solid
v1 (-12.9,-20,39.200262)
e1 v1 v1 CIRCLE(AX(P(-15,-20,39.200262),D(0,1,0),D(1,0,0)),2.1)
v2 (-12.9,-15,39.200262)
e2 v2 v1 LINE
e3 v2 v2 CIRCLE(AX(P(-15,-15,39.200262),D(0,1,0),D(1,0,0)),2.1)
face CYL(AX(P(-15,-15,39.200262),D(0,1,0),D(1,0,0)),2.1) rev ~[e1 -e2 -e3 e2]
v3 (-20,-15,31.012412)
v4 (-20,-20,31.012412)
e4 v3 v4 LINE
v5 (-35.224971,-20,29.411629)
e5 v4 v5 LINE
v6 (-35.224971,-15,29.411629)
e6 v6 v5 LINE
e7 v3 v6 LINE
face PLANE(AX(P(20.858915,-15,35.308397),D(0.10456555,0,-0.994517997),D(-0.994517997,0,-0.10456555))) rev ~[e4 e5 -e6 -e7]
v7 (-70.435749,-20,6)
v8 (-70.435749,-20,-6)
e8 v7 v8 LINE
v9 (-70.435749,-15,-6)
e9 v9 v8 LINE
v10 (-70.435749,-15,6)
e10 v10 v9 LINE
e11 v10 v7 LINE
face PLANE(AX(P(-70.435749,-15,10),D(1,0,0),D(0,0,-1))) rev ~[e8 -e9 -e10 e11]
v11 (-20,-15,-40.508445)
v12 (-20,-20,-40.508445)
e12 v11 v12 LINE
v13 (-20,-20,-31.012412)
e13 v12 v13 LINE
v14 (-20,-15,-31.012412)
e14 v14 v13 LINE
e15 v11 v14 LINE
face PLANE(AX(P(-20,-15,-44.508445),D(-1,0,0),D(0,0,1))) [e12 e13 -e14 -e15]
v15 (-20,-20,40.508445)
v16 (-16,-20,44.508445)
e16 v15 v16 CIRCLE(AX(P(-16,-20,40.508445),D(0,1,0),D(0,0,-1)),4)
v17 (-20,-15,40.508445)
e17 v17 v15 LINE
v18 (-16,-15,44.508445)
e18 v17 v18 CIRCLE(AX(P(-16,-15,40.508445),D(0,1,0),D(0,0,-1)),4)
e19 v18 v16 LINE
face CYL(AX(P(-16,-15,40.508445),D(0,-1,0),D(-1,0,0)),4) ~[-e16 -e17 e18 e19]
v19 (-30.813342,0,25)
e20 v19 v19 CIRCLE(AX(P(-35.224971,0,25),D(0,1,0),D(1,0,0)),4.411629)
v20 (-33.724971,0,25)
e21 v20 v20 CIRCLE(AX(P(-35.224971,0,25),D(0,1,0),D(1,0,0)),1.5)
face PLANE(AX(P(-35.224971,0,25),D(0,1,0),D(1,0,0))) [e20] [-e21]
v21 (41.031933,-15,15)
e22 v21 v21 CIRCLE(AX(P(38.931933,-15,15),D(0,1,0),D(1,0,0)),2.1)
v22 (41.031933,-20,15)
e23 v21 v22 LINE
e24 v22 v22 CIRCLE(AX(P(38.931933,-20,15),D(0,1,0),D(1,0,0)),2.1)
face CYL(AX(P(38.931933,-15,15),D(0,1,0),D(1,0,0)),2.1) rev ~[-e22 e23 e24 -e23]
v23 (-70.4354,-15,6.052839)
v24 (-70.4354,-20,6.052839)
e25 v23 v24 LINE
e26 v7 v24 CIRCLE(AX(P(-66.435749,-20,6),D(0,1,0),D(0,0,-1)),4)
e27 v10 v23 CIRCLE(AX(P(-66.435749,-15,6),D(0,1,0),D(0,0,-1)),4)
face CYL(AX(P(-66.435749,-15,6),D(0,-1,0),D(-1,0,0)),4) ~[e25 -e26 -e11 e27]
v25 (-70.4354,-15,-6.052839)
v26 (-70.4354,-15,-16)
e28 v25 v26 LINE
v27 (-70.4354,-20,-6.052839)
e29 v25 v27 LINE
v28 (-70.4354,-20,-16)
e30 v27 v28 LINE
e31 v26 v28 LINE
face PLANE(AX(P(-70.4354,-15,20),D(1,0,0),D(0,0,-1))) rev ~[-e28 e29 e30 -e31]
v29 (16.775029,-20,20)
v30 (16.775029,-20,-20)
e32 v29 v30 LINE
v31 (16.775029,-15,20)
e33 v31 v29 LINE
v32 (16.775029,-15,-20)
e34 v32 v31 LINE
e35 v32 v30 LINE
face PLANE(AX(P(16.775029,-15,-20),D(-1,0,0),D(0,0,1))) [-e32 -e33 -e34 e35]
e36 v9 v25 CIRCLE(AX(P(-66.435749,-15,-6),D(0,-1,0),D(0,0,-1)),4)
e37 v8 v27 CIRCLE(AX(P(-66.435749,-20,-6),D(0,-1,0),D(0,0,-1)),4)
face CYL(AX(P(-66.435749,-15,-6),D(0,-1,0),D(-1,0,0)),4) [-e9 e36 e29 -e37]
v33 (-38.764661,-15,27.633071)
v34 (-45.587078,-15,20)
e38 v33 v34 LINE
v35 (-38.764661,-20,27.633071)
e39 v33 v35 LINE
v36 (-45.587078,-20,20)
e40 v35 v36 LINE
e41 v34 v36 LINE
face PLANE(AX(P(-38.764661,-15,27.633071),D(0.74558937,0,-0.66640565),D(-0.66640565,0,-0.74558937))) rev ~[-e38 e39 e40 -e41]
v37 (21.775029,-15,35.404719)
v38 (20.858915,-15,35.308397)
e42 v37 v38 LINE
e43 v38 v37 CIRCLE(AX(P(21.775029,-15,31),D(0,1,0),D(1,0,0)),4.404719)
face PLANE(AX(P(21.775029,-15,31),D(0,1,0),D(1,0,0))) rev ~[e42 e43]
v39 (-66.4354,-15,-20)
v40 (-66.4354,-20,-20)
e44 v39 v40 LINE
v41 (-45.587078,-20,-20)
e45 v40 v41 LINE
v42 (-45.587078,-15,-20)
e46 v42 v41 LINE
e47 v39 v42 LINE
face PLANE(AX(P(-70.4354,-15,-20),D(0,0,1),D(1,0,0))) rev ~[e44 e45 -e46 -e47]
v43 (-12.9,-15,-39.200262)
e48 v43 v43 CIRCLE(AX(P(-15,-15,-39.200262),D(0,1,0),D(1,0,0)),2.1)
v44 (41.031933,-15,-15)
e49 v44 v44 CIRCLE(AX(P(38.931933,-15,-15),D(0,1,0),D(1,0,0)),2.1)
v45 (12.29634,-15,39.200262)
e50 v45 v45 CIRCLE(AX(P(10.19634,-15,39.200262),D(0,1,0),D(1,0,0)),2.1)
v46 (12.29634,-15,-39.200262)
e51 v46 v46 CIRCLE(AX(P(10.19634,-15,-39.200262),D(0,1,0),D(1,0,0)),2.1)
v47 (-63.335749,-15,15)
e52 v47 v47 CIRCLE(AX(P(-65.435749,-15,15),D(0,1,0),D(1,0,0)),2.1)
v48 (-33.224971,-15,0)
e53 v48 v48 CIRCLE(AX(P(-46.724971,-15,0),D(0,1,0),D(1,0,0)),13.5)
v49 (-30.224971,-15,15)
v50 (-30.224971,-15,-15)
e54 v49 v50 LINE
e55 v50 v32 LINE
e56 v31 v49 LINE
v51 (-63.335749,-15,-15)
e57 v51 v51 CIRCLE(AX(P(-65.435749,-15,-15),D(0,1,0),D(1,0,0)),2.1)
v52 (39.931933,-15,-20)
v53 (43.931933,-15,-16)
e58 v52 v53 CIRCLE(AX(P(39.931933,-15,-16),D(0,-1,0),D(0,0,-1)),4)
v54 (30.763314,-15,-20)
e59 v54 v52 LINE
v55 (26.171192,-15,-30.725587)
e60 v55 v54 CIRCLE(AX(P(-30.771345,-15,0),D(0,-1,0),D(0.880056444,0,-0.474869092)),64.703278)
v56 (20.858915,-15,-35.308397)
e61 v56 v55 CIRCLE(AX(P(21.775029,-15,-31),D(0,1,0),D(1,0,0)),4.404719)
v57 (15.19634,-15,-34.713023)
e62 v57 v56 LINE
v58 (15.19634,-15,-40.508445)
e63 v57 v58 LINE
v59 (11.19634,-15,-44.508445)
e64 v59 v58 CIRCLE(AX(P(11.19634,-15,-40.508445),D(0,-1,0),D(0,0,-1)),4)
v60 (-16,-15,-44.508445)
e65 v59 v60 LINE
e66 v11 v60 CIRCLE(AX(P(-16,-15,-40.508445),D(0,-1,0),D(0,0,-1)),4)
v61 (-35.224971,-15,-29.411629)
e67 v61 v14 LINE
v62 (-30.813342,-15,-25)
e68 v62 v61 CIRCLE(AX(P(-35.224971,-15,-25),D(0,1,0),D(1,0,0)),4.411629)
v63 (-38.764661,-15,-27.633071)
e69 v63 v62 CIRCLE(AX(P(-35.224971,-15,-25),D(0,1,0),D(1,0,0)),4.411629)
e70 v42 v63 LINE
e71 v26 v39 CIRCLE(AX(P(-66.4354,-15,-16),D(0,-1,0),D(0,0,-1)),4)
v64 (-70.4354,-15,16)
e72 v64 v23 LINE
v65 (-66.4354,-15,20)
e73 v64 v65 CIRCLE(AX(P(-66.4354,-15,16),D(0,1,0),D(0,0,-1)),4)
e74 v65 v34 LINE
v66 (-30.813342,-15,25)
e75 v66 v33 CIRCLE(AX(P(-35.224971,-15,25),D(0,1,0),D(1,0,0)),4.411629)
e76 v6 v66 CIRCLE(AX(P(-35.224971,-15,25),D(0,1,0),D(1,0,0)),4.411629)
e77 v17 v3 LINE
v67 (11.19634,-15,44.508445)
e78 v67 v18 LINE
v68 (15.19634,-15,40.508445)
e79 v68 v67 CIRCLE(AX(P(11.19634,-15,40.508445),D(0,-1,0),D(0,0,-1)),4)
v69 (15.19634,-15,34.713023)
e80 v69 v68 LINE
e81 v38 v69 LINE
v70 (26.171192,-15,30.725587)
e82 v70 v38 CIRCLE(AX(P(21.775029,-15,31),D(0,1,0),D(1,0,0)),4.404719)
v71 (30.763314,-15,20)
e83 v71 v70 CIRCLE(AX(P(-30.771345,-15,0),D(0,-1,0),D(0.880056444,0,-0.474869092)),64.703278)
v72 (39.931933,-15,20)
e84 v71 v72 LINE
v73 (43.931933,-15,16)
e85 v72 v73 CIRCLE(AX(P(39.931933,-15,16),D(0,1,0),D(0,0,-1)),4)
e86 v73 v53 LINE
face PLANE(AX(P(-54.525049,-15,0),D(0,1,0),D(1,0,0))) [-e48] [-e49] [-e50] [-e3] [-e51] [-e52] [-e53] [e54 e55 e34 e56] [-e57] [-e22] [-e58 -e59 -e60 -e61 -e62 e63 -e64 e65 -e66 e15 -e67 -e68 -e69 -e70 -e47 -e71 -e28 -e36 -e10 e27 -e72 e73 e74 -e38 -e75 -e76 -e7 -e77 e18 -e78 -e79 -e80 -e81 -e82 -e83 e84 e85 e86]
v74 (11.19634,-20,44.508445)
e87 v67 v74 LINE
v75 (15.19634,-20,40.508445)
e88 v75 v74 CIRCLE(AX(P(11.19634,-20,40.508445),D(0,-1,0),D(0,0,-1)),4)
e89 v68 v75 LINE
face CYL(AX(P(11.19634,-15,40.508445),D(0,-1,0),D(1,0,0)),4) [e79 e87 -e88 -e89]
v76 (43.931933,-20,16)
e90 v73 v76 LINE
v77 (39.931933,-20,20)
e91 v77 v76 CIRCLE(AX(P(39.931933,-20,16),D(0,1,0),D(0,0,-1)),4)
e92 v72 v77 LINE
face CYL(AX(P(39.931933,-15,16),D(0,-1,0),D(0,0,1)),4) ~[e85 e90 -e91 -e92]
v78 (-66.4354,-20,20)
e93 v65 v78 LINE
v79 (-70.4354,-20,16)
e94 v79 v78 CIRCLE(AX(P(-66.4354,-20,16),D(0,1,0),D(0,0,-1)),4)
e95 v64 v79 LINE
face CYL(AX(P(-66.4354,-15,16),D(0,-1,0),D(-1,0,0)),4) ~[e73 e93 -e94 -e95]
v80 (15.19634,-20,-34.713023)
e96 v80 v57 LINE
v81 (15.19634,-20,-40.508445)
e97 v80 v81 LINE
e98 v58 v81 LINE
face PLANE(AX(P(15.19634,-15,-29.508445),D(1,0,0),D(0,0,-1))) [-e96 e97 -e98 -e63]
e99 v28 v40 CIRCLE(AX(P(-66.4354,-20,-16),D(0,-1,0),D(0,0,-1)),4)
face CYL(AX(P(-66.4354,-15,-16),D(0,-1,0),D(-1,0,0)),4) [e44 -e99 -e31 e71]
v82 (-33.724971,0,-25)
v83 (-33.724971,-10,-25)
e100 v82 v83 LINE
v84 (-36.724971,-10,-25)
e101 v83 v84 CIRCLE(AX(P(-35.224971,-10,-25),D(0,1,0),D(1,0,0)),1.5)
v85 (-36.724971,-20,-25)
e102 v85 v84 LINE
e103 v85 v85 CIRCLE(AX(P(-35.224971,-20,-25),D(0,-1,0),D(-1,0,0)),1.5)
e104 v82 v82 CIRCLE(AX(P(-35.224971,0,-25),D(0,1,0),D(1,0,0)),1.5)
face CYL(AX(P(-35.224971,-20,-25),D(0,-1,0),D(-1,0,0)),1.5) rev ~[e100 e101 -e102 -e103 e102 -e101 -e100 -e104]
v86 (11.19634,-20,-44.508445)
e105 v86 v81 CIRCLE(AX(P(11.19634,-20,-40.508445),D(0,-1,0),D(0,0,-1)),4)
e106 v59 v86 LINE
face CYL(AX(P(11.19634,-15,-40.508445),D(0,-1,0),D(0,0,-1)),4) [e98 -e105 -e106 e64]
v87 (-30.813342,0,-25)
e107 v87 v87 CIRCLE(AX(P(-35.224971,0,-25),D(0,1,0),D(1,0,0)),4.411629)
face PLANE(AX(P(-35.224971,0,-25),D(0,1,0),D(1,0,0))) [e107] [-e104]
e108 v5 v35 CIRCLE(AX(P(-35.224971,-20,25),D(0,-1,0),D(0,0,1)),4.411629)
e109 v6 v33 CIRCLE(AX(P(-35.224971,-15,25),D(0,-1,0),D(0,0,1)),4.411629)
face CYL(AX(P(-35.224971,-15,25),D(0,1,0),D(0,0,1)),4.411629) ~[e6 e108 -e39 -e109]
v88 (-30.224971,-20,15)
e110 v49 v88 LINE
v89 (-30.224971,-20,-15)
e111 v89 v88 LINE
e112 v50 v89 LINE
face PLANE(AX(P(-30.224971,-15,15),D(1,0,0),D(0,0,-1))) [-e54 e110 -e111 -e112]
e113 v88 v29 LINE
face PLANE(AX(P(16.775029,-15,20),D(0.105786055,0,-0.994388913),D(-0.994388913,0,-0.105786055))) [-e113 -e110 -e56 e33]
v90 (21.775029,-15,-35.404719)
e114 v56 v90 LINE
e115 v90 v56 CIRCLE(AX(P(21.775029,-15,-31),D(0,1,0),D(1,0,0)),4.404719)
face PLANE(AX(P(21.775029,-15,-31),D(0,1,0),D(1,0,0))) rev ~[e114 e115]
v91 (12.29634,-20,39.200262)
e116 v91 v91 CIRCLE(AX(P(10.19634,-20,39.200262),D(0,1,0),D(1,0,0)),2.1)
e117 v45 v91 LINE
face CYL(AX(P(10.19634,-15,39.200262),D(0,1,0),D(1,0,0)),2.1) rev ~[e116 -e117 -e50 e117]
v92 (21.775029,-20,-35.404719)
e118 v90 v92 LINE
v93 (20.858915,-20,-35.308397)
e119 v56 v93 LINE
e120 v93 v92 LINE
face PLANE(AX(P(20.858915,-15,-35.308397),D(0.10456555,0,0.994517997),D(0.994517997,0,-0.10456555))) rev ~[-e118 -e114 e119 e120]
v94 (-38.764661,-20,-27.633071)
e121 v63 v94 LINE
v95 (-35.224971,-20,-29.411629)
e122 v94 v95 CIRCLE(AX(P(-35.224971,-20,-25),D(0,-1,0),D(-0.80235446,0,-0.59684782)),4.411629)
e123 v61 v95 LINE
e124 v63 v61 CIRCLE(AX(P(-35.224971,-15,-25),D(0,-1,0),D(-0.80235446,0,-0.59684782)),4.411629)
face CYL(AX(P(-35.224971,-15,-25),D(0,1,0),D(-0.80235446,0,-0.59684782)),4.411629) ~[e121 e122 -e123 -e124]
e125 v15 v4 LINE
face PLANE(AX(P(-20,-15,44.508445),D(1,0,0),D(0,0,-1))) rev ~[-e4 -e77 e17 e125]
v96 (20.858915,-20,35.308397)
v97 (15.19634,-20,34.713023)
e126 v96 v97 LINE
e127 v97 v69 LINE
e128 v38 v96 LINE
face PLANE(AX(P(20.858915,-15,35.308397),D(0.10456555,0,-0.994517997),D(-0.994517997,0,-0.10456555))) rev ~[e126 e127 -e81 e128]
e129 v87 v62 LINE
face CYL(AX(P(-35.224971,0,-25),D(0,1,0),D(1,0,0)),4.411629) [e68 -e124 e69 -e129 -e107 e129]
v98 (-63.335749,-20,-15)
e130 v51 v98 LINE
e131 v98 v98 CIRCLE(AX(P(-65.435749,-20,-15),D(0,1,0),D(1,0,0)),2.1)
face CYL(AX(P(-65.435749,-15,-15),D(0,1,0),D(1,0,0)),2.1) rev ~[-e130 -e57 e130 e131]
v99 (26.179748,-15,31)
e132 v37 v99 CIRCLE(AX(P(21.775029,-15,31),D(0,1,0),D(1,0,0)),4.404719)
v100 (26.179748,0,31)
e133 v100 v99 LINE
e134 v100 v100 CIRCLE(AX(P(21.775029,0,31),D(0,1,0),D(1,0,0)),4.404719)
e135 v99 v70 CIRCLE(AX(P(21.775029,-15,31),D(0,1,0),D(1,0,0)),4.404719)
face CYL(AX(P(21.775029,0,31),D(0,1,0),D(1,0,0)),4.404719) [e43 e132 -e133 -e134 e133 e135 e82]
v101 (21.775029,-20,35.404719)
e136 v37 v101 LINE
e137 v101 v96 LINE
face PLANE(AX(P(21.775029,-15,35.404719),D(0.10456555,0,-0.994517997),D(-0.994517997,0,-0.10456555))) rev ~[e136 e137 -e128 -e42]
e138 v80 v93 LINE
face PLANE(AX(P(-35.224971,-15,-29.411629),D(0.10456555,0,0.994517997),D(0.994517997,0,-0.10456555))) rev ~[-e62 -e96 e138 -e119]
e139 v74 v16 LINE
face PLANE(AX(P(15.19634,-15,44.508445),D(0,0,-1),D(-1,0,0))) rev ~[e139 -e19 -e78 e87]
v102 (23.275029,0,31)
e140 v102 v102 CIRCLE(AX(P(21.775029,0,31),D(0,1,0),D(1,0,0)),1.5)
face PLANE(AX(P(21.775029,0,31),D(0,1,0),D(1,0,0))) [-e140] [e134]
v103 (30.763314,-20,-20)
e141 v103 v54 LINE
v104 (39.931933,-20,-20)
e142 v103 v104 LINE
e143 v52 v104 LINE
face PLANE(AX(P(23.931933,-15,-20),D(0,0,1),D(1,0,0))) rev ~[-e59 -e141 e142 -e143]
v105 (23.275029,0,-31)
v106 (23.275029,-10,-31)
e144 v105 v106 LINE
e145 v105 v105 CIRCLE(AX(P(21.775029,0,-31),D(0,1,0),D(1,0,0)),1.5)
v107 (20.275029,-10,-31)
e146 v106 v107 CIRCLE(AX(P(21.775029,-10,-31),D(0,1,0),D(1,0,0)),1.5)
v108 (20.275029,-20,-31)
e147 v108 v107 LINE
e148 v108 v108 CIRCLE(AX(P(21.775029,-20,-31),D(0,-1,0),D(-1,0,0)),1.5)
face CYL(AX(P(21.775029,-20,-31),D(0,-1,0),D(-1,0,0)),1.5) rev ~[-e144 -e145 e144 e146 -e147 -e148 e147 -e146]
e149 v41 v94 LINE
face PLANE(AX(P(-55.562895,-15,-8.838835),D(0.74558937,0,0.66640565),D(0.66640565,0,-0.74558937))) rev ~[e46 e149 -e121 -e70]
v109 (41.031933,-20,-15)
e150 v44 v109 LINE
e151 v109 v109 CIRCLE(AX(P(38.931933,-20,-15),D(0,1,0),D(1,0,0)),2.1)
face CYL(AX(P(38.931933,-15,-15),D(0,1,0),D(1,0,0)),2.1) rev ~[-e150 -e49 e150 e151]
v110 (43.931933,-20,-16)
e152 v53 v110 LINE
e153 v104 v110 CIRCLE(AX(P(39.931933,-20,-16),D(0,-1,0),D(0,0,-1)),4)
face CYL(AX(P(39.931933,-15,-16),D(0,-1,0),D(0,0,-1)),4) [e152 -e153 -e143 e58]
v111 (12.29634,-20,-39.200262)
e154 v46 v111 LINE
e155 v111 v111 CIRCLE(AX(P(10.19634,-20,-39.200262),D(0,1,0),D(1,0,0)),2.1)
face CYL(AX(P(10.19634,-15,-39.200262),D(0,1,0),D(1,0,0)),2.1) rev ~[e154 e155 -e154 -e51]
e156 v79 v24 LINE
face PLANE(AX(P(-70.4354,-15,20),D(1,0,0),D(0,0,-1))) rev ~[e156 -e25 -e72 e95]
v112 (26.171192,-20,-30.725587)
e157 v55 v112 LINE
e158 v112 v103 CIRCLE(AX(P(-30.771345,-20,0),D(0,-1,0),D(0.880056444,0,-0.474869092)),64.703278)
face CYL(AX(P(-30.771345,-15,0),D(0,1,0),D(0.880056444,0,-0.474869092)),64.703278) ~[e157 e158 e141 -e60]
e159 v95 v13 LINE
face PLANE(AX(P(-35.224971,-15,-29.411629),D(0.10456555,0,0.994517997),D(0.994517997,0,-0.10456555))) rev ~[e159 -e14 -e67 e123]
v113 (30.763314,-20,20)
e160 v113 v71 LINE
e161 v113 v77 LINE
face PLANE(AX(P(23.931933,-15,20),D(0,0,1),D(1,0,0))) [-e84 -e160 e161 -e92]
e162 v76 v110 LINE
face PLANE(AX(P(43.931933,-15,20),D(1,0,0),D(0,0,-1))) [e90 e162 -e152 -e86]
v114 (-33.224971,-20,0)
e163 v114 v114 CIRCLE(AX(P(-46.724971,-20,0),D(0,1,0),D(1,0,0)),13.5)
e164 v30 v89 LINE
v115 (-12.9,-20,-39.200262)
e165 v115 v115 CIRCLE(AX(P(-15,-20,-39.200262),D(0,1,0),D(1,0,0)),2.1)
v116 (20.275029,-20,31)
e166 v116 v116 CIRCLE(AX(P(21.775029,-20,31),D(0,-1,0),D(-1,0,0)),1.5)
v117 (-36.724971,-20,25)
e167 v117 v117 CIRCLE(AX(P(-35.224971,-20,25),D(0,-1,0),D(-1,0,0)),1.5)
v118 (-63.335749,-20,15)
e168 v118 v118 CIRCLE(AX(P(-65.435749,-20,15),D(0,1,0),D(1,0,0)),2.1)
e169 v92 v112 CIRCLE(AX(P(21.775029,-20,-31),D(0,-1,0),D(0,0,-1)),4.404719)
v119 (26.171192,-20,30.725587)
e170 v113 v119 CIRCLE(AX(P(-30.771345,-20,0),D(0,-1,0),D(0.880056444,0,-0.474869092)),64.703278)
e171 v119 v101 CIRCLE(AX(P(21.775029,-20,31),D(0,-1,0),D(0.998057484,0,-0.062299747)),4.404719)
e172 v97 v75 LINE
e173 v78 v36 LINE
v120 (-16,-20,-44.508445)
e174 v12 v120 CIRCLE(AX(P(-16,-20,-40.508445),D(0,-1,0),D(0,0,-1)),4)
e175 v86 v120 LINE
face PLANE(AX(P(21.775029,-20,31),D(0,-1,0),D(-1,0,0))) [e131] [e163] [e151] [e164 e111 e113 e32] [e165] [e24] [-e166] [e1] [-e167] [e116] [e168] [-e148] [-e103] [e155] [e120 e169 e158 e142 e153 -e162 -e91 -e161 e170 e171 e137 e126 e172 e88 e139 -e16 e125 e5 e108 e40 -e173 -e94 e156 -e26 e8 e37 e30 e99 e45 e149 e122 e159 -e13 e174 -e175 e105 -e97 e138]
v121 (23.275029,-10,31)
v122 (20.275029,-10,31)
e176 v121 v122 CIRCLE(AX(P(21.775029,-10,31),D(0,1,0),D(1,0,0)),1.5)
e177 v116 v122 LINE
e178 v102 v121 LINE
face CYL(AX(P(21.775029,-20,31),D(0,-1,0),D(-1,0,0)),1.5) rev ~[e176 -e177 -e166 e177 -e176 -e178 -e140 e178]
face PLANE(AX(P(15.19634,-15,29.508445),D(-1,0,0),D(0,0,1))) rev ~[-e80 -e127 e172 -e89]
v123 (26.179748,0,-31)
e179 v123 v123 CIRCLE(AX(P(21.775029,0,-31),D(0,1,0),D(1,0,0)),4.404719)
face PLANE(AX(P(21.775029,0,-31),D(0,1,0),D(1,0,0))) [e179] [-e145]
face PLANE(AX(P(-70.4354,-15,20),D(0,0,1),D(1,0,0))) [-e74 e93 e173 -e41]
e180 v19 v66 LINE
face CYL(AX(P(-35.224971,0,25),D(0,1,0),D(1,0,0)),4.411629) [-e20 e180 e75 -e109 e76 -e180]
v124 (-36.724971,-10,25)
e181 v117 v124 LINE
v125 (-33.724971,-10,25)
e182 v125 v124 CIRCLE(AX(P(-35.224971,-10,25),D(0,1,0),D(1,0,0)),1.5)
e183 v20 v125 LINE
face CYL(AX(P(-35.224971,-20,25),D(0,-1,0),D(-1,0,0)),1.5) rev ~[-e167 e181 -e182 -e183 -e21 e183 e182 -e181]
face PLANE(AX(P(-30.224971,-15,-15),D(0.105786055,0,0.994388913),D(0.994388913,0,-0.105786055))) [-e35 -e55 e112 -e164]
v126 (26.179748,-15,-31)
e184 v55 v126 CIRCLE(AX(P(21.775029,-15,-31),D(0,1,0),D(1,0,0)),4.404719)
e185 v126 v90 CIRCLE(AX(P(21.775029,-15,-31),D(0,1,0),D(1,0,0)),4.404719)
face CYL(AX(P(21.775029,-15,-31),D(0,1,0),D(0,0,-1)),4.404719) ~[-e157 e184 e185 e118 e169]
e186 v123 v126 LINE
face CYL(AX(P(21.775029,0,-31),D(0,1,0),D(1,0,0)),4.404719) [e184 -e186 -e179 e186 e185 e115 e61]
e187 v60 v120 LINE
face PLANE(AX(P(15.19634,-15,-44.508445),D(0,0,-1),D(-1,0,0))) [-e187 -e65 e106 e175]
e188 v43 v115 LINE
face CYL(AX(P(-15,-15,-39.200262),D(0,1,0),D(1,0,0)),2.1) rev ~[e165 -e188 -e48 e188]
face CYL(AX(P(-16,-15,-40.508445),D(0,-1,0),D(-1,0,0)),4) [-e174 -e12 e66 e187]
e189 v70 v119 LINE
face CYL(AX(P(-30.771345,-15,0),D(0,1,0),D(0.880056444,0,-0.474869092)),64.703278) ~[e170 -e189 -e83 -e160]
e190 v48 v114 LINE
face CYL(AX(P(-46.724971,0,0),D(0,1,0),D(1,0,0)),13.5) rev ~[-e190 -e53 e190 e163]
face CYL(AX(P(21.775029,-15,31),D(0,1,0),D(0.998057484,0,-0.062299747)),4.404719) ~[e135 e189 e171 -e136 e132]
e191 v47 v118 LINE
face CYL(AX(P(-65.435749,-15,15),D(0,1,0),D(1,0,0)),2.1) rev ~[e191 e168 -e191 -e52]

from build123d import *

# Parameters (mm, degrees)
SKETCH7_R             = 4.411628617
SKETCH7_R_2           = 1.499999999
BOSS_EXTRUDE1_DEPTH   = 15
SKETCH7_R_3           = 4.404719082
BOSS_EXTRUDE1_2_DEPTH = 15
BOSS_EXTRUDE1_3_DEPTH = 15
BOSS_EXTRUDE1_4_DEPTH = 15
SKETCH8_R             = 3.5
CUT_EXTRUDE1_DEPTH    = 5
SKETCH9_R             = 3.5
BOSS_EXTRUDE9_DEPTH   = 5
SKETCH12_R            = 2.1
BOSS_EXTRUDE10_DEPTH  = 5
FILLET3_R             = 4
SKETCH13_W            = 20
SKETCH13_H            = 20
SKETCH13_R            = 2.383284349
BOSS_EXTRUDE11_DEPTH  = 5
FILLET4_R             = 4
SKETCH14_R            = 2.383284349
SKETCH14_R_2          = 2.1
SKETCH14_W            = 20
SKETCH14_H            = 40
BOSS_EXTRUDE12_DEPTH  = 5
FILLET5_R             = 4
SKETCH15_W            = 31.82070186
SKETCH15_H            = 40
SKETCH15_R            = 2.1
BOSS_EXTRUDE13_DEPTH  = 5
FILLET6_R             = 4
SKETCH16_R            = 3.5
SKETCH16_R_2          = 1.499999999
BOSS_EXTRUDE14_DEPTH  = 15
CUT_EXTRUDE3_DEPTH    = 15
SKETCH18_R            = 13.5
CUT_EXTRUDE6_DEPTH    = 21


with BuildPart() as part:
    # Sketch7 → Boss-Extrude1 (new body)
    with BuildSketch(Plane(origin=(0, 0, 0), x_dir=(1, 0, 0), z_dir=(0, 1, 0))):
        with Locations((-35.224970632, 25)):
            Circle(SKETCH7_R)
        with Locations((-35.224970632, 25)):
            Circle(SKETCH7_R_2, mode=Mode.SUBTRACT)
    extrude(amount=-BOSS_EXTRUDE1_DEPTH)


with BuildPart() as body_2:
    # Sketch7 → Boss-Extrude1 2 (new body)
    with BuildSketch(Plane(origin=(0, 0, 0), x_dir=(1, 0, 0), z_dir=(0, 1, 0))):
        with Locations((21.775029368, 31)):
            Circle(SKETCH7_R_3)
        with Locations((21.775029368, 31)):
            Circle(SKETCH7_R_2, mode=Mode.SUBTRACT)
    extrude(amount=-BOSS_EXTRUDE1_2_DEPTH)


with BuildPart() as body_3:
    # Sketch7 → Boss-Extrude1 3 (new body)
    with BuildSketch(Plane(origin=(0, 0, 0), x_dir=(1, 0, 0), z_dir=(0, 1, 0))):
        with Locations((21.775029368, -31)):
            Circle(SKETCH7_R_3)
        with Locations((21.775029368, -31)):
            Circle(SKETCH7_R_2, mode=Mode.SUBTRACT)
    extrude(amount=-BOSS_EXTRUDE1_3_DEPTH)


with BuildPart() as body_4:
    # Sketch7 → Boss-Extrude1 4 (new body)
    with BuildSketch(Plane(origin=(0, 0, 0), x_dir=(1, 0, 0), z_dir=(0, 1, 0))):
        with Locations((-35.224970632, -25)):
            Circle(SKETCH7_R)
        with Locations((-35.224970632, -25)):
            Circle(SKETCH7_R_2, mode=Mode.SUBTRACT)
    extrude(amount=-BOSS_EXTRUDE1_4_DEPTH)


with BuildPart() as cut_extrude1_tool:
    # Sketch8 → Cut-Extrude1 (new body)
    with BuildSketch(Plane(origin=(0, -15, 0), x_dir=(-1, 0, 0), z_dir=(0, -1, 0))):
        with Locations((35.224970632, -25)):
            Circle(SKETCH8_R)
        with Locations((-21.775029368, -31)):
            Circle(SKETCH8_R)
        with Locations((35.224970632, 25)):
            Circle(SKETCH8_R)
        with Locations((-21.775029368, 31)):
            Circle(SKETCH8_R)
    extrude(amount=-CUT_EXTRUDE1_DEPTH)


with BuildPart() as part_1:
    add(part.part)

    # Cut-Extrude1: cut by cut_extrude1_tool
    add(cut_extrude1_tool.part, mode=Mode.SUBTRACT)



with BuildPart() as body_2_1:
    add(body_2.part)

    # Cut-Extrude1: cut by cut_extrude1_tool
    add(cut_extrude1_tool.part, mode=Mode.SUBTRACT)


with BuildPart() as body_3_1:
    add(body_3.part)

    # Cut-Extrude1: cut by cut_extrude1_tool
    add(cut_extrude1_tool.part, mode=Mode.SUBTRACT)


with BuildPart() as body_4_1:
    add(body_4.part)

    # Cut-Extrude1: cut by cut_extrude1_tool
    add(cut_extrude1_tool.part, mode=Mode.SUBTRACT)


with BuildPart() as part_2:
    add(part_1.part)

    add(body_2_1.part)  # Boss-Extrude9 merges body 2

    add(body_3_1.part)  # Boss-Extrude9 merges body 3

    add(body_4_1.part)  # Boss-Extrude9 merges body 4
    # Sketch9 → Boss-Extrude9 (add)
    with BuildSketch(Plane(origin=(0, -15, 0), x_dir=(-1, 0, 0), z_dir=(0, -1, 0))):
        with BuildLine():
            Line((38.764660529, -27.633070923), (55.562895144, -8.838834765))
            ThreePointArc((55.562895144, -8.838834765), (59.224060379, 0), (55.562895144, 8.838834765))
            Line((55.562895144, 8.838834765), (38.764660529, 27.633070923))
            ThreePointArc((38.764660529, 27.633070923), (37.205669501, 28.941991761), (35.224970632, 29.411628617))
            Line((35.224970632, 29.411628617), (-20.858915448, 35.308397089))
            Line((-20.858915448, 35.308397089), (-21.775029368, 35.404719082))
            ThreePointArc((-21.775029368, 35.404719082), (-24.985189946, 34.016027065), (-26.171192213, 30.725587114))
            ThreePointArc((-26.171192213, 30.725587114), (-33.931933496, 0), (-26.171192213, -30.725587114))
            ThreePointArc((-26.171192213, -30.725587114), (-24.985189946, -34.016027065), (-21.775029368, -35.404719082))
            Line((-21.775029368, -35.404719082), (-20.858915448, -35.308397089))
            Line((-20.858915448, -35.308397089), (35.224970632, -29.411628617))
            ThreePointArc((35.224970632, -29.411628617), (37.205669501, -28.941991761), (38.764660529, -27.633070923))
        make_face()
        with Locations((-21.775029368, -31)):
            Circle(SKETCH9_R, mode=Mode.SUBTRACT)
        with Locations((35.224970632, -25)):
            Circle(SKETCH9_R, mode=Mode.SUBTRACT)
        with Locations((-21.775029368, 31)):
            Circle(SKETCH9_R, mode=Mode.SUBTRACT)
        with Locations((35.224970632, 25)):
            Circle(SKETCH9_R, mode=Mode.SUBTRACT)
    extrude(amount=BOSS_EXTRUDE9_DEPTH)

    # Sketch12 → Boss-Extrude10 (add)
    with BuildSketch(Plane(origin=(0, -15, 0), x_dir=(1, 0, 0), z_dir=(0, 1, 0))):
        Polygon((0, 29.508444845), (15.196340386, 29.508444845), (15.196340386, 44.508444845), (-20, 44.508444845), (-20, 29.508444845), (-15, 29.508444845), align=None)
        with Locations((-15, 39.200262185)):
            Circle(SKETCH12_R, mode=Mode.SUBTRACT)
        with Locations((10.196340386, 39.200262185)):
            Circle(SKETCH12_R, mode=Mode.SUBTRACT)
        Polygon((-20, -44.508444845), (-20, -29.508444845), (-15, -29.508444845), (0, -29.508444845), (15.196340386, -29.508444845), (15.196340386, -44.508444845), align=None)
        with Locations((-15, -39.200262185)):
            Circle(SKETCH12_R, mode=Mode.SUBTRACT)
        with Locations((10.196340386, -39.200262185)):
            Circle(SKETCH12_R, mode=Mode.SUBTRACT)
    extrude(amount=-BOSS_EXTRUDE10_DEPTH)

    # Fillet3
    fillet3_edges = [part_2.edges().sort_by_distance(p)[0] for p in [
        (15.196340386, -17.5, 44.508444845),
        (-20, -17.5, 44.508444845),
        (15.196340386, -17.5, -44.508444845),
        (-20, -17.5, -44.508444845),
    ]]
    fillet(fillet3_edges, radius=FILLET3_R)

    # Sketch13 → Boss-Extrude11 (add)
    with BuildSketch(Plane(origin=(0, -15, 0), x_dir=(1, 0, 0), z_dir=(0, 1, 0))):
        with Locations((-60.435748909, 0)):
            Rectangle(SKETCH13_W, SKETCH13_H)
        with Locations((-65.435748909, 5)):
            Circle(SKETCH13_R, mode=Mode.SUBTRACT)
        with Locations((-65.435748909, -5)):
            Circle(SKETCH13_R, mode=Mode.SUBTRACT)
    extrude(amount=-BOSS_EXTRUDE11_DEPTH)

    # Fillet4
    fillet4_edges = [part_2.edges().sort_by_distance(p)[0] for p in [
        (-70.435748909, -17.5, -10),
        (-70.435748909, -17.5, 10),
    ]]
    fillet(fillet4_edges, radius=FILLET4_R)

    # Sketch14 → Boss-Extrude12 (add)
    with BuildSketch(Plane(origin=(0, -15, 0), x_dir=(1, 0, 0), z_dir=(0, 1, 0))):
        with Locations((-65.435748909, 5)):
            Circle(SKETCH14_R)
        with Locations((-65.435748909, 5)):
            Circle(SKETCH14_R_2, mode=Mode.SUBTRACT)
        with Locations((-65.435748909, -5)):
            Circle(SKETCH14_R)
        with Locations((-65.435748909, -5)):
            Circle(SKETCH14_R_2, mode=Mode.SUBTRACT)
        with Locations((33.931933496, 0)):
            Rectangle(SKETCH14_W, SKETCH14_H)
        with Locations((38.931933496, 15)):
            Circle(SKETCH14_R_2, mode=Mode.SUBTRACT)
        with Locations((38.931933496, -15)):
            Circle(SKETCH14_R_2, mode=Mode.SUBTRACT)
    extrude(amount=-BOSS_EXTRUDE12_DEPTH)

    # Fillet5
    fillet5_edges = [part_2.edges().sort_by_distance(p)[0] for p in [
        (43.931933496, -17.5, -20),
        (43.931933496, -17.5, 20),
    ]]
    fillet(fillet5_edges, radius=FILLET5_R)

    # Sketch15 → Boss-Extrude13 (add)
    with BuildSketch(Plane(origin=(0, -15, 0), x_dir=(1, 0, 0), z_dir=(0, 1, 0))):
        with Locations((-54.525048972, 0)):
            Rectangle(SKETCH15_W, SKETCH15_H)
        with Locations((-65.435748909, 15)):
            Circle(SKETCH15_R, mode=Mode.SUBTRACT)
        with Locations((-65.435748909, -15)):
            Circle(SKETCH15_R, mode=Mode.SUBTRACT)
    extrude(amount=-BOSS_EXTRUDE13_DEPTH)

    # Fillet6
    fillet6_edges = [part_2.edges().sort_by_distance(p)[0] for p in [
        (-70.435399902, -17.5, -20),
        (-70.435399902, -17.5, 20),
    ]]
    fillet(fillet6_edges, radius=FILLET6_R)

    # Sketch16 → Boss-Extrude14 (add)
    with BuildSketch(Plane(origin=(0, -20, 0), x_dir=(-1, 0, 0), z_dir=(0, -1, 0))):
        with Locations((-21.775029368, -31)):
            Circle(SKETCH16_R)
        with Locations((-21.775029368, -31)):
            Circle(SKETCH16_R_2, mode=Mode.SUBTRACT)
        with Locations((-21.775029368, 31)):
            Circle(SKETCH16_R)
        with Locations((-21.775029368, 31)):
            Circle(SKETCH16_R_2, mode=Mode.SUBTRACT)
        with Locations((35.224970632, 25)):
            Circle(SKETCH16_R)
        with Locations((35.224970632, 25)):
            Circle(SKETCH16_R_2, mode=Mode.SUBTRACT)
        with Locations((35.224970632, -25)):
            Circle(SKETCH16_R)
        with Locations((35.224970632, -25)):
            Circle(SKETCH16_R_2, mode=Mode.SUBTRACT)
    extrude(amount=-BOSS_EXTRUDE14_DEPTH)

    # Sketch17 → Cut-Extrude3 (cut)
    with BuildSketch(Plane(origin=(0, -15, 0), x_dir=(1, 0, 0), z_dir=(0, 1, 0))):
        Polygon((-30.224970632, 15), (16.775029368, 20), (16.775029368, -20), (-30.224970632, -15), align=None)
    extrude(amount=-CUT_EXTRUDE3_DEPTH, mode=Mode.SUBTRACT)

    # Sketch18 → Cut-Extrude6 (cut, through all)
    with BuildSketch(Plane(origin=(0, 0, 0), x_dir=(1, 0, 0), z_dir=(0, 1, 0))):
        with Locations((-46.724970632, 0)):
            Circle(SKETCH18_R)
    extrude(amount=-CUT_EXTRUDE6_DEPTH, mode=Mode.SUBTRACT)


solid = part_2.part
